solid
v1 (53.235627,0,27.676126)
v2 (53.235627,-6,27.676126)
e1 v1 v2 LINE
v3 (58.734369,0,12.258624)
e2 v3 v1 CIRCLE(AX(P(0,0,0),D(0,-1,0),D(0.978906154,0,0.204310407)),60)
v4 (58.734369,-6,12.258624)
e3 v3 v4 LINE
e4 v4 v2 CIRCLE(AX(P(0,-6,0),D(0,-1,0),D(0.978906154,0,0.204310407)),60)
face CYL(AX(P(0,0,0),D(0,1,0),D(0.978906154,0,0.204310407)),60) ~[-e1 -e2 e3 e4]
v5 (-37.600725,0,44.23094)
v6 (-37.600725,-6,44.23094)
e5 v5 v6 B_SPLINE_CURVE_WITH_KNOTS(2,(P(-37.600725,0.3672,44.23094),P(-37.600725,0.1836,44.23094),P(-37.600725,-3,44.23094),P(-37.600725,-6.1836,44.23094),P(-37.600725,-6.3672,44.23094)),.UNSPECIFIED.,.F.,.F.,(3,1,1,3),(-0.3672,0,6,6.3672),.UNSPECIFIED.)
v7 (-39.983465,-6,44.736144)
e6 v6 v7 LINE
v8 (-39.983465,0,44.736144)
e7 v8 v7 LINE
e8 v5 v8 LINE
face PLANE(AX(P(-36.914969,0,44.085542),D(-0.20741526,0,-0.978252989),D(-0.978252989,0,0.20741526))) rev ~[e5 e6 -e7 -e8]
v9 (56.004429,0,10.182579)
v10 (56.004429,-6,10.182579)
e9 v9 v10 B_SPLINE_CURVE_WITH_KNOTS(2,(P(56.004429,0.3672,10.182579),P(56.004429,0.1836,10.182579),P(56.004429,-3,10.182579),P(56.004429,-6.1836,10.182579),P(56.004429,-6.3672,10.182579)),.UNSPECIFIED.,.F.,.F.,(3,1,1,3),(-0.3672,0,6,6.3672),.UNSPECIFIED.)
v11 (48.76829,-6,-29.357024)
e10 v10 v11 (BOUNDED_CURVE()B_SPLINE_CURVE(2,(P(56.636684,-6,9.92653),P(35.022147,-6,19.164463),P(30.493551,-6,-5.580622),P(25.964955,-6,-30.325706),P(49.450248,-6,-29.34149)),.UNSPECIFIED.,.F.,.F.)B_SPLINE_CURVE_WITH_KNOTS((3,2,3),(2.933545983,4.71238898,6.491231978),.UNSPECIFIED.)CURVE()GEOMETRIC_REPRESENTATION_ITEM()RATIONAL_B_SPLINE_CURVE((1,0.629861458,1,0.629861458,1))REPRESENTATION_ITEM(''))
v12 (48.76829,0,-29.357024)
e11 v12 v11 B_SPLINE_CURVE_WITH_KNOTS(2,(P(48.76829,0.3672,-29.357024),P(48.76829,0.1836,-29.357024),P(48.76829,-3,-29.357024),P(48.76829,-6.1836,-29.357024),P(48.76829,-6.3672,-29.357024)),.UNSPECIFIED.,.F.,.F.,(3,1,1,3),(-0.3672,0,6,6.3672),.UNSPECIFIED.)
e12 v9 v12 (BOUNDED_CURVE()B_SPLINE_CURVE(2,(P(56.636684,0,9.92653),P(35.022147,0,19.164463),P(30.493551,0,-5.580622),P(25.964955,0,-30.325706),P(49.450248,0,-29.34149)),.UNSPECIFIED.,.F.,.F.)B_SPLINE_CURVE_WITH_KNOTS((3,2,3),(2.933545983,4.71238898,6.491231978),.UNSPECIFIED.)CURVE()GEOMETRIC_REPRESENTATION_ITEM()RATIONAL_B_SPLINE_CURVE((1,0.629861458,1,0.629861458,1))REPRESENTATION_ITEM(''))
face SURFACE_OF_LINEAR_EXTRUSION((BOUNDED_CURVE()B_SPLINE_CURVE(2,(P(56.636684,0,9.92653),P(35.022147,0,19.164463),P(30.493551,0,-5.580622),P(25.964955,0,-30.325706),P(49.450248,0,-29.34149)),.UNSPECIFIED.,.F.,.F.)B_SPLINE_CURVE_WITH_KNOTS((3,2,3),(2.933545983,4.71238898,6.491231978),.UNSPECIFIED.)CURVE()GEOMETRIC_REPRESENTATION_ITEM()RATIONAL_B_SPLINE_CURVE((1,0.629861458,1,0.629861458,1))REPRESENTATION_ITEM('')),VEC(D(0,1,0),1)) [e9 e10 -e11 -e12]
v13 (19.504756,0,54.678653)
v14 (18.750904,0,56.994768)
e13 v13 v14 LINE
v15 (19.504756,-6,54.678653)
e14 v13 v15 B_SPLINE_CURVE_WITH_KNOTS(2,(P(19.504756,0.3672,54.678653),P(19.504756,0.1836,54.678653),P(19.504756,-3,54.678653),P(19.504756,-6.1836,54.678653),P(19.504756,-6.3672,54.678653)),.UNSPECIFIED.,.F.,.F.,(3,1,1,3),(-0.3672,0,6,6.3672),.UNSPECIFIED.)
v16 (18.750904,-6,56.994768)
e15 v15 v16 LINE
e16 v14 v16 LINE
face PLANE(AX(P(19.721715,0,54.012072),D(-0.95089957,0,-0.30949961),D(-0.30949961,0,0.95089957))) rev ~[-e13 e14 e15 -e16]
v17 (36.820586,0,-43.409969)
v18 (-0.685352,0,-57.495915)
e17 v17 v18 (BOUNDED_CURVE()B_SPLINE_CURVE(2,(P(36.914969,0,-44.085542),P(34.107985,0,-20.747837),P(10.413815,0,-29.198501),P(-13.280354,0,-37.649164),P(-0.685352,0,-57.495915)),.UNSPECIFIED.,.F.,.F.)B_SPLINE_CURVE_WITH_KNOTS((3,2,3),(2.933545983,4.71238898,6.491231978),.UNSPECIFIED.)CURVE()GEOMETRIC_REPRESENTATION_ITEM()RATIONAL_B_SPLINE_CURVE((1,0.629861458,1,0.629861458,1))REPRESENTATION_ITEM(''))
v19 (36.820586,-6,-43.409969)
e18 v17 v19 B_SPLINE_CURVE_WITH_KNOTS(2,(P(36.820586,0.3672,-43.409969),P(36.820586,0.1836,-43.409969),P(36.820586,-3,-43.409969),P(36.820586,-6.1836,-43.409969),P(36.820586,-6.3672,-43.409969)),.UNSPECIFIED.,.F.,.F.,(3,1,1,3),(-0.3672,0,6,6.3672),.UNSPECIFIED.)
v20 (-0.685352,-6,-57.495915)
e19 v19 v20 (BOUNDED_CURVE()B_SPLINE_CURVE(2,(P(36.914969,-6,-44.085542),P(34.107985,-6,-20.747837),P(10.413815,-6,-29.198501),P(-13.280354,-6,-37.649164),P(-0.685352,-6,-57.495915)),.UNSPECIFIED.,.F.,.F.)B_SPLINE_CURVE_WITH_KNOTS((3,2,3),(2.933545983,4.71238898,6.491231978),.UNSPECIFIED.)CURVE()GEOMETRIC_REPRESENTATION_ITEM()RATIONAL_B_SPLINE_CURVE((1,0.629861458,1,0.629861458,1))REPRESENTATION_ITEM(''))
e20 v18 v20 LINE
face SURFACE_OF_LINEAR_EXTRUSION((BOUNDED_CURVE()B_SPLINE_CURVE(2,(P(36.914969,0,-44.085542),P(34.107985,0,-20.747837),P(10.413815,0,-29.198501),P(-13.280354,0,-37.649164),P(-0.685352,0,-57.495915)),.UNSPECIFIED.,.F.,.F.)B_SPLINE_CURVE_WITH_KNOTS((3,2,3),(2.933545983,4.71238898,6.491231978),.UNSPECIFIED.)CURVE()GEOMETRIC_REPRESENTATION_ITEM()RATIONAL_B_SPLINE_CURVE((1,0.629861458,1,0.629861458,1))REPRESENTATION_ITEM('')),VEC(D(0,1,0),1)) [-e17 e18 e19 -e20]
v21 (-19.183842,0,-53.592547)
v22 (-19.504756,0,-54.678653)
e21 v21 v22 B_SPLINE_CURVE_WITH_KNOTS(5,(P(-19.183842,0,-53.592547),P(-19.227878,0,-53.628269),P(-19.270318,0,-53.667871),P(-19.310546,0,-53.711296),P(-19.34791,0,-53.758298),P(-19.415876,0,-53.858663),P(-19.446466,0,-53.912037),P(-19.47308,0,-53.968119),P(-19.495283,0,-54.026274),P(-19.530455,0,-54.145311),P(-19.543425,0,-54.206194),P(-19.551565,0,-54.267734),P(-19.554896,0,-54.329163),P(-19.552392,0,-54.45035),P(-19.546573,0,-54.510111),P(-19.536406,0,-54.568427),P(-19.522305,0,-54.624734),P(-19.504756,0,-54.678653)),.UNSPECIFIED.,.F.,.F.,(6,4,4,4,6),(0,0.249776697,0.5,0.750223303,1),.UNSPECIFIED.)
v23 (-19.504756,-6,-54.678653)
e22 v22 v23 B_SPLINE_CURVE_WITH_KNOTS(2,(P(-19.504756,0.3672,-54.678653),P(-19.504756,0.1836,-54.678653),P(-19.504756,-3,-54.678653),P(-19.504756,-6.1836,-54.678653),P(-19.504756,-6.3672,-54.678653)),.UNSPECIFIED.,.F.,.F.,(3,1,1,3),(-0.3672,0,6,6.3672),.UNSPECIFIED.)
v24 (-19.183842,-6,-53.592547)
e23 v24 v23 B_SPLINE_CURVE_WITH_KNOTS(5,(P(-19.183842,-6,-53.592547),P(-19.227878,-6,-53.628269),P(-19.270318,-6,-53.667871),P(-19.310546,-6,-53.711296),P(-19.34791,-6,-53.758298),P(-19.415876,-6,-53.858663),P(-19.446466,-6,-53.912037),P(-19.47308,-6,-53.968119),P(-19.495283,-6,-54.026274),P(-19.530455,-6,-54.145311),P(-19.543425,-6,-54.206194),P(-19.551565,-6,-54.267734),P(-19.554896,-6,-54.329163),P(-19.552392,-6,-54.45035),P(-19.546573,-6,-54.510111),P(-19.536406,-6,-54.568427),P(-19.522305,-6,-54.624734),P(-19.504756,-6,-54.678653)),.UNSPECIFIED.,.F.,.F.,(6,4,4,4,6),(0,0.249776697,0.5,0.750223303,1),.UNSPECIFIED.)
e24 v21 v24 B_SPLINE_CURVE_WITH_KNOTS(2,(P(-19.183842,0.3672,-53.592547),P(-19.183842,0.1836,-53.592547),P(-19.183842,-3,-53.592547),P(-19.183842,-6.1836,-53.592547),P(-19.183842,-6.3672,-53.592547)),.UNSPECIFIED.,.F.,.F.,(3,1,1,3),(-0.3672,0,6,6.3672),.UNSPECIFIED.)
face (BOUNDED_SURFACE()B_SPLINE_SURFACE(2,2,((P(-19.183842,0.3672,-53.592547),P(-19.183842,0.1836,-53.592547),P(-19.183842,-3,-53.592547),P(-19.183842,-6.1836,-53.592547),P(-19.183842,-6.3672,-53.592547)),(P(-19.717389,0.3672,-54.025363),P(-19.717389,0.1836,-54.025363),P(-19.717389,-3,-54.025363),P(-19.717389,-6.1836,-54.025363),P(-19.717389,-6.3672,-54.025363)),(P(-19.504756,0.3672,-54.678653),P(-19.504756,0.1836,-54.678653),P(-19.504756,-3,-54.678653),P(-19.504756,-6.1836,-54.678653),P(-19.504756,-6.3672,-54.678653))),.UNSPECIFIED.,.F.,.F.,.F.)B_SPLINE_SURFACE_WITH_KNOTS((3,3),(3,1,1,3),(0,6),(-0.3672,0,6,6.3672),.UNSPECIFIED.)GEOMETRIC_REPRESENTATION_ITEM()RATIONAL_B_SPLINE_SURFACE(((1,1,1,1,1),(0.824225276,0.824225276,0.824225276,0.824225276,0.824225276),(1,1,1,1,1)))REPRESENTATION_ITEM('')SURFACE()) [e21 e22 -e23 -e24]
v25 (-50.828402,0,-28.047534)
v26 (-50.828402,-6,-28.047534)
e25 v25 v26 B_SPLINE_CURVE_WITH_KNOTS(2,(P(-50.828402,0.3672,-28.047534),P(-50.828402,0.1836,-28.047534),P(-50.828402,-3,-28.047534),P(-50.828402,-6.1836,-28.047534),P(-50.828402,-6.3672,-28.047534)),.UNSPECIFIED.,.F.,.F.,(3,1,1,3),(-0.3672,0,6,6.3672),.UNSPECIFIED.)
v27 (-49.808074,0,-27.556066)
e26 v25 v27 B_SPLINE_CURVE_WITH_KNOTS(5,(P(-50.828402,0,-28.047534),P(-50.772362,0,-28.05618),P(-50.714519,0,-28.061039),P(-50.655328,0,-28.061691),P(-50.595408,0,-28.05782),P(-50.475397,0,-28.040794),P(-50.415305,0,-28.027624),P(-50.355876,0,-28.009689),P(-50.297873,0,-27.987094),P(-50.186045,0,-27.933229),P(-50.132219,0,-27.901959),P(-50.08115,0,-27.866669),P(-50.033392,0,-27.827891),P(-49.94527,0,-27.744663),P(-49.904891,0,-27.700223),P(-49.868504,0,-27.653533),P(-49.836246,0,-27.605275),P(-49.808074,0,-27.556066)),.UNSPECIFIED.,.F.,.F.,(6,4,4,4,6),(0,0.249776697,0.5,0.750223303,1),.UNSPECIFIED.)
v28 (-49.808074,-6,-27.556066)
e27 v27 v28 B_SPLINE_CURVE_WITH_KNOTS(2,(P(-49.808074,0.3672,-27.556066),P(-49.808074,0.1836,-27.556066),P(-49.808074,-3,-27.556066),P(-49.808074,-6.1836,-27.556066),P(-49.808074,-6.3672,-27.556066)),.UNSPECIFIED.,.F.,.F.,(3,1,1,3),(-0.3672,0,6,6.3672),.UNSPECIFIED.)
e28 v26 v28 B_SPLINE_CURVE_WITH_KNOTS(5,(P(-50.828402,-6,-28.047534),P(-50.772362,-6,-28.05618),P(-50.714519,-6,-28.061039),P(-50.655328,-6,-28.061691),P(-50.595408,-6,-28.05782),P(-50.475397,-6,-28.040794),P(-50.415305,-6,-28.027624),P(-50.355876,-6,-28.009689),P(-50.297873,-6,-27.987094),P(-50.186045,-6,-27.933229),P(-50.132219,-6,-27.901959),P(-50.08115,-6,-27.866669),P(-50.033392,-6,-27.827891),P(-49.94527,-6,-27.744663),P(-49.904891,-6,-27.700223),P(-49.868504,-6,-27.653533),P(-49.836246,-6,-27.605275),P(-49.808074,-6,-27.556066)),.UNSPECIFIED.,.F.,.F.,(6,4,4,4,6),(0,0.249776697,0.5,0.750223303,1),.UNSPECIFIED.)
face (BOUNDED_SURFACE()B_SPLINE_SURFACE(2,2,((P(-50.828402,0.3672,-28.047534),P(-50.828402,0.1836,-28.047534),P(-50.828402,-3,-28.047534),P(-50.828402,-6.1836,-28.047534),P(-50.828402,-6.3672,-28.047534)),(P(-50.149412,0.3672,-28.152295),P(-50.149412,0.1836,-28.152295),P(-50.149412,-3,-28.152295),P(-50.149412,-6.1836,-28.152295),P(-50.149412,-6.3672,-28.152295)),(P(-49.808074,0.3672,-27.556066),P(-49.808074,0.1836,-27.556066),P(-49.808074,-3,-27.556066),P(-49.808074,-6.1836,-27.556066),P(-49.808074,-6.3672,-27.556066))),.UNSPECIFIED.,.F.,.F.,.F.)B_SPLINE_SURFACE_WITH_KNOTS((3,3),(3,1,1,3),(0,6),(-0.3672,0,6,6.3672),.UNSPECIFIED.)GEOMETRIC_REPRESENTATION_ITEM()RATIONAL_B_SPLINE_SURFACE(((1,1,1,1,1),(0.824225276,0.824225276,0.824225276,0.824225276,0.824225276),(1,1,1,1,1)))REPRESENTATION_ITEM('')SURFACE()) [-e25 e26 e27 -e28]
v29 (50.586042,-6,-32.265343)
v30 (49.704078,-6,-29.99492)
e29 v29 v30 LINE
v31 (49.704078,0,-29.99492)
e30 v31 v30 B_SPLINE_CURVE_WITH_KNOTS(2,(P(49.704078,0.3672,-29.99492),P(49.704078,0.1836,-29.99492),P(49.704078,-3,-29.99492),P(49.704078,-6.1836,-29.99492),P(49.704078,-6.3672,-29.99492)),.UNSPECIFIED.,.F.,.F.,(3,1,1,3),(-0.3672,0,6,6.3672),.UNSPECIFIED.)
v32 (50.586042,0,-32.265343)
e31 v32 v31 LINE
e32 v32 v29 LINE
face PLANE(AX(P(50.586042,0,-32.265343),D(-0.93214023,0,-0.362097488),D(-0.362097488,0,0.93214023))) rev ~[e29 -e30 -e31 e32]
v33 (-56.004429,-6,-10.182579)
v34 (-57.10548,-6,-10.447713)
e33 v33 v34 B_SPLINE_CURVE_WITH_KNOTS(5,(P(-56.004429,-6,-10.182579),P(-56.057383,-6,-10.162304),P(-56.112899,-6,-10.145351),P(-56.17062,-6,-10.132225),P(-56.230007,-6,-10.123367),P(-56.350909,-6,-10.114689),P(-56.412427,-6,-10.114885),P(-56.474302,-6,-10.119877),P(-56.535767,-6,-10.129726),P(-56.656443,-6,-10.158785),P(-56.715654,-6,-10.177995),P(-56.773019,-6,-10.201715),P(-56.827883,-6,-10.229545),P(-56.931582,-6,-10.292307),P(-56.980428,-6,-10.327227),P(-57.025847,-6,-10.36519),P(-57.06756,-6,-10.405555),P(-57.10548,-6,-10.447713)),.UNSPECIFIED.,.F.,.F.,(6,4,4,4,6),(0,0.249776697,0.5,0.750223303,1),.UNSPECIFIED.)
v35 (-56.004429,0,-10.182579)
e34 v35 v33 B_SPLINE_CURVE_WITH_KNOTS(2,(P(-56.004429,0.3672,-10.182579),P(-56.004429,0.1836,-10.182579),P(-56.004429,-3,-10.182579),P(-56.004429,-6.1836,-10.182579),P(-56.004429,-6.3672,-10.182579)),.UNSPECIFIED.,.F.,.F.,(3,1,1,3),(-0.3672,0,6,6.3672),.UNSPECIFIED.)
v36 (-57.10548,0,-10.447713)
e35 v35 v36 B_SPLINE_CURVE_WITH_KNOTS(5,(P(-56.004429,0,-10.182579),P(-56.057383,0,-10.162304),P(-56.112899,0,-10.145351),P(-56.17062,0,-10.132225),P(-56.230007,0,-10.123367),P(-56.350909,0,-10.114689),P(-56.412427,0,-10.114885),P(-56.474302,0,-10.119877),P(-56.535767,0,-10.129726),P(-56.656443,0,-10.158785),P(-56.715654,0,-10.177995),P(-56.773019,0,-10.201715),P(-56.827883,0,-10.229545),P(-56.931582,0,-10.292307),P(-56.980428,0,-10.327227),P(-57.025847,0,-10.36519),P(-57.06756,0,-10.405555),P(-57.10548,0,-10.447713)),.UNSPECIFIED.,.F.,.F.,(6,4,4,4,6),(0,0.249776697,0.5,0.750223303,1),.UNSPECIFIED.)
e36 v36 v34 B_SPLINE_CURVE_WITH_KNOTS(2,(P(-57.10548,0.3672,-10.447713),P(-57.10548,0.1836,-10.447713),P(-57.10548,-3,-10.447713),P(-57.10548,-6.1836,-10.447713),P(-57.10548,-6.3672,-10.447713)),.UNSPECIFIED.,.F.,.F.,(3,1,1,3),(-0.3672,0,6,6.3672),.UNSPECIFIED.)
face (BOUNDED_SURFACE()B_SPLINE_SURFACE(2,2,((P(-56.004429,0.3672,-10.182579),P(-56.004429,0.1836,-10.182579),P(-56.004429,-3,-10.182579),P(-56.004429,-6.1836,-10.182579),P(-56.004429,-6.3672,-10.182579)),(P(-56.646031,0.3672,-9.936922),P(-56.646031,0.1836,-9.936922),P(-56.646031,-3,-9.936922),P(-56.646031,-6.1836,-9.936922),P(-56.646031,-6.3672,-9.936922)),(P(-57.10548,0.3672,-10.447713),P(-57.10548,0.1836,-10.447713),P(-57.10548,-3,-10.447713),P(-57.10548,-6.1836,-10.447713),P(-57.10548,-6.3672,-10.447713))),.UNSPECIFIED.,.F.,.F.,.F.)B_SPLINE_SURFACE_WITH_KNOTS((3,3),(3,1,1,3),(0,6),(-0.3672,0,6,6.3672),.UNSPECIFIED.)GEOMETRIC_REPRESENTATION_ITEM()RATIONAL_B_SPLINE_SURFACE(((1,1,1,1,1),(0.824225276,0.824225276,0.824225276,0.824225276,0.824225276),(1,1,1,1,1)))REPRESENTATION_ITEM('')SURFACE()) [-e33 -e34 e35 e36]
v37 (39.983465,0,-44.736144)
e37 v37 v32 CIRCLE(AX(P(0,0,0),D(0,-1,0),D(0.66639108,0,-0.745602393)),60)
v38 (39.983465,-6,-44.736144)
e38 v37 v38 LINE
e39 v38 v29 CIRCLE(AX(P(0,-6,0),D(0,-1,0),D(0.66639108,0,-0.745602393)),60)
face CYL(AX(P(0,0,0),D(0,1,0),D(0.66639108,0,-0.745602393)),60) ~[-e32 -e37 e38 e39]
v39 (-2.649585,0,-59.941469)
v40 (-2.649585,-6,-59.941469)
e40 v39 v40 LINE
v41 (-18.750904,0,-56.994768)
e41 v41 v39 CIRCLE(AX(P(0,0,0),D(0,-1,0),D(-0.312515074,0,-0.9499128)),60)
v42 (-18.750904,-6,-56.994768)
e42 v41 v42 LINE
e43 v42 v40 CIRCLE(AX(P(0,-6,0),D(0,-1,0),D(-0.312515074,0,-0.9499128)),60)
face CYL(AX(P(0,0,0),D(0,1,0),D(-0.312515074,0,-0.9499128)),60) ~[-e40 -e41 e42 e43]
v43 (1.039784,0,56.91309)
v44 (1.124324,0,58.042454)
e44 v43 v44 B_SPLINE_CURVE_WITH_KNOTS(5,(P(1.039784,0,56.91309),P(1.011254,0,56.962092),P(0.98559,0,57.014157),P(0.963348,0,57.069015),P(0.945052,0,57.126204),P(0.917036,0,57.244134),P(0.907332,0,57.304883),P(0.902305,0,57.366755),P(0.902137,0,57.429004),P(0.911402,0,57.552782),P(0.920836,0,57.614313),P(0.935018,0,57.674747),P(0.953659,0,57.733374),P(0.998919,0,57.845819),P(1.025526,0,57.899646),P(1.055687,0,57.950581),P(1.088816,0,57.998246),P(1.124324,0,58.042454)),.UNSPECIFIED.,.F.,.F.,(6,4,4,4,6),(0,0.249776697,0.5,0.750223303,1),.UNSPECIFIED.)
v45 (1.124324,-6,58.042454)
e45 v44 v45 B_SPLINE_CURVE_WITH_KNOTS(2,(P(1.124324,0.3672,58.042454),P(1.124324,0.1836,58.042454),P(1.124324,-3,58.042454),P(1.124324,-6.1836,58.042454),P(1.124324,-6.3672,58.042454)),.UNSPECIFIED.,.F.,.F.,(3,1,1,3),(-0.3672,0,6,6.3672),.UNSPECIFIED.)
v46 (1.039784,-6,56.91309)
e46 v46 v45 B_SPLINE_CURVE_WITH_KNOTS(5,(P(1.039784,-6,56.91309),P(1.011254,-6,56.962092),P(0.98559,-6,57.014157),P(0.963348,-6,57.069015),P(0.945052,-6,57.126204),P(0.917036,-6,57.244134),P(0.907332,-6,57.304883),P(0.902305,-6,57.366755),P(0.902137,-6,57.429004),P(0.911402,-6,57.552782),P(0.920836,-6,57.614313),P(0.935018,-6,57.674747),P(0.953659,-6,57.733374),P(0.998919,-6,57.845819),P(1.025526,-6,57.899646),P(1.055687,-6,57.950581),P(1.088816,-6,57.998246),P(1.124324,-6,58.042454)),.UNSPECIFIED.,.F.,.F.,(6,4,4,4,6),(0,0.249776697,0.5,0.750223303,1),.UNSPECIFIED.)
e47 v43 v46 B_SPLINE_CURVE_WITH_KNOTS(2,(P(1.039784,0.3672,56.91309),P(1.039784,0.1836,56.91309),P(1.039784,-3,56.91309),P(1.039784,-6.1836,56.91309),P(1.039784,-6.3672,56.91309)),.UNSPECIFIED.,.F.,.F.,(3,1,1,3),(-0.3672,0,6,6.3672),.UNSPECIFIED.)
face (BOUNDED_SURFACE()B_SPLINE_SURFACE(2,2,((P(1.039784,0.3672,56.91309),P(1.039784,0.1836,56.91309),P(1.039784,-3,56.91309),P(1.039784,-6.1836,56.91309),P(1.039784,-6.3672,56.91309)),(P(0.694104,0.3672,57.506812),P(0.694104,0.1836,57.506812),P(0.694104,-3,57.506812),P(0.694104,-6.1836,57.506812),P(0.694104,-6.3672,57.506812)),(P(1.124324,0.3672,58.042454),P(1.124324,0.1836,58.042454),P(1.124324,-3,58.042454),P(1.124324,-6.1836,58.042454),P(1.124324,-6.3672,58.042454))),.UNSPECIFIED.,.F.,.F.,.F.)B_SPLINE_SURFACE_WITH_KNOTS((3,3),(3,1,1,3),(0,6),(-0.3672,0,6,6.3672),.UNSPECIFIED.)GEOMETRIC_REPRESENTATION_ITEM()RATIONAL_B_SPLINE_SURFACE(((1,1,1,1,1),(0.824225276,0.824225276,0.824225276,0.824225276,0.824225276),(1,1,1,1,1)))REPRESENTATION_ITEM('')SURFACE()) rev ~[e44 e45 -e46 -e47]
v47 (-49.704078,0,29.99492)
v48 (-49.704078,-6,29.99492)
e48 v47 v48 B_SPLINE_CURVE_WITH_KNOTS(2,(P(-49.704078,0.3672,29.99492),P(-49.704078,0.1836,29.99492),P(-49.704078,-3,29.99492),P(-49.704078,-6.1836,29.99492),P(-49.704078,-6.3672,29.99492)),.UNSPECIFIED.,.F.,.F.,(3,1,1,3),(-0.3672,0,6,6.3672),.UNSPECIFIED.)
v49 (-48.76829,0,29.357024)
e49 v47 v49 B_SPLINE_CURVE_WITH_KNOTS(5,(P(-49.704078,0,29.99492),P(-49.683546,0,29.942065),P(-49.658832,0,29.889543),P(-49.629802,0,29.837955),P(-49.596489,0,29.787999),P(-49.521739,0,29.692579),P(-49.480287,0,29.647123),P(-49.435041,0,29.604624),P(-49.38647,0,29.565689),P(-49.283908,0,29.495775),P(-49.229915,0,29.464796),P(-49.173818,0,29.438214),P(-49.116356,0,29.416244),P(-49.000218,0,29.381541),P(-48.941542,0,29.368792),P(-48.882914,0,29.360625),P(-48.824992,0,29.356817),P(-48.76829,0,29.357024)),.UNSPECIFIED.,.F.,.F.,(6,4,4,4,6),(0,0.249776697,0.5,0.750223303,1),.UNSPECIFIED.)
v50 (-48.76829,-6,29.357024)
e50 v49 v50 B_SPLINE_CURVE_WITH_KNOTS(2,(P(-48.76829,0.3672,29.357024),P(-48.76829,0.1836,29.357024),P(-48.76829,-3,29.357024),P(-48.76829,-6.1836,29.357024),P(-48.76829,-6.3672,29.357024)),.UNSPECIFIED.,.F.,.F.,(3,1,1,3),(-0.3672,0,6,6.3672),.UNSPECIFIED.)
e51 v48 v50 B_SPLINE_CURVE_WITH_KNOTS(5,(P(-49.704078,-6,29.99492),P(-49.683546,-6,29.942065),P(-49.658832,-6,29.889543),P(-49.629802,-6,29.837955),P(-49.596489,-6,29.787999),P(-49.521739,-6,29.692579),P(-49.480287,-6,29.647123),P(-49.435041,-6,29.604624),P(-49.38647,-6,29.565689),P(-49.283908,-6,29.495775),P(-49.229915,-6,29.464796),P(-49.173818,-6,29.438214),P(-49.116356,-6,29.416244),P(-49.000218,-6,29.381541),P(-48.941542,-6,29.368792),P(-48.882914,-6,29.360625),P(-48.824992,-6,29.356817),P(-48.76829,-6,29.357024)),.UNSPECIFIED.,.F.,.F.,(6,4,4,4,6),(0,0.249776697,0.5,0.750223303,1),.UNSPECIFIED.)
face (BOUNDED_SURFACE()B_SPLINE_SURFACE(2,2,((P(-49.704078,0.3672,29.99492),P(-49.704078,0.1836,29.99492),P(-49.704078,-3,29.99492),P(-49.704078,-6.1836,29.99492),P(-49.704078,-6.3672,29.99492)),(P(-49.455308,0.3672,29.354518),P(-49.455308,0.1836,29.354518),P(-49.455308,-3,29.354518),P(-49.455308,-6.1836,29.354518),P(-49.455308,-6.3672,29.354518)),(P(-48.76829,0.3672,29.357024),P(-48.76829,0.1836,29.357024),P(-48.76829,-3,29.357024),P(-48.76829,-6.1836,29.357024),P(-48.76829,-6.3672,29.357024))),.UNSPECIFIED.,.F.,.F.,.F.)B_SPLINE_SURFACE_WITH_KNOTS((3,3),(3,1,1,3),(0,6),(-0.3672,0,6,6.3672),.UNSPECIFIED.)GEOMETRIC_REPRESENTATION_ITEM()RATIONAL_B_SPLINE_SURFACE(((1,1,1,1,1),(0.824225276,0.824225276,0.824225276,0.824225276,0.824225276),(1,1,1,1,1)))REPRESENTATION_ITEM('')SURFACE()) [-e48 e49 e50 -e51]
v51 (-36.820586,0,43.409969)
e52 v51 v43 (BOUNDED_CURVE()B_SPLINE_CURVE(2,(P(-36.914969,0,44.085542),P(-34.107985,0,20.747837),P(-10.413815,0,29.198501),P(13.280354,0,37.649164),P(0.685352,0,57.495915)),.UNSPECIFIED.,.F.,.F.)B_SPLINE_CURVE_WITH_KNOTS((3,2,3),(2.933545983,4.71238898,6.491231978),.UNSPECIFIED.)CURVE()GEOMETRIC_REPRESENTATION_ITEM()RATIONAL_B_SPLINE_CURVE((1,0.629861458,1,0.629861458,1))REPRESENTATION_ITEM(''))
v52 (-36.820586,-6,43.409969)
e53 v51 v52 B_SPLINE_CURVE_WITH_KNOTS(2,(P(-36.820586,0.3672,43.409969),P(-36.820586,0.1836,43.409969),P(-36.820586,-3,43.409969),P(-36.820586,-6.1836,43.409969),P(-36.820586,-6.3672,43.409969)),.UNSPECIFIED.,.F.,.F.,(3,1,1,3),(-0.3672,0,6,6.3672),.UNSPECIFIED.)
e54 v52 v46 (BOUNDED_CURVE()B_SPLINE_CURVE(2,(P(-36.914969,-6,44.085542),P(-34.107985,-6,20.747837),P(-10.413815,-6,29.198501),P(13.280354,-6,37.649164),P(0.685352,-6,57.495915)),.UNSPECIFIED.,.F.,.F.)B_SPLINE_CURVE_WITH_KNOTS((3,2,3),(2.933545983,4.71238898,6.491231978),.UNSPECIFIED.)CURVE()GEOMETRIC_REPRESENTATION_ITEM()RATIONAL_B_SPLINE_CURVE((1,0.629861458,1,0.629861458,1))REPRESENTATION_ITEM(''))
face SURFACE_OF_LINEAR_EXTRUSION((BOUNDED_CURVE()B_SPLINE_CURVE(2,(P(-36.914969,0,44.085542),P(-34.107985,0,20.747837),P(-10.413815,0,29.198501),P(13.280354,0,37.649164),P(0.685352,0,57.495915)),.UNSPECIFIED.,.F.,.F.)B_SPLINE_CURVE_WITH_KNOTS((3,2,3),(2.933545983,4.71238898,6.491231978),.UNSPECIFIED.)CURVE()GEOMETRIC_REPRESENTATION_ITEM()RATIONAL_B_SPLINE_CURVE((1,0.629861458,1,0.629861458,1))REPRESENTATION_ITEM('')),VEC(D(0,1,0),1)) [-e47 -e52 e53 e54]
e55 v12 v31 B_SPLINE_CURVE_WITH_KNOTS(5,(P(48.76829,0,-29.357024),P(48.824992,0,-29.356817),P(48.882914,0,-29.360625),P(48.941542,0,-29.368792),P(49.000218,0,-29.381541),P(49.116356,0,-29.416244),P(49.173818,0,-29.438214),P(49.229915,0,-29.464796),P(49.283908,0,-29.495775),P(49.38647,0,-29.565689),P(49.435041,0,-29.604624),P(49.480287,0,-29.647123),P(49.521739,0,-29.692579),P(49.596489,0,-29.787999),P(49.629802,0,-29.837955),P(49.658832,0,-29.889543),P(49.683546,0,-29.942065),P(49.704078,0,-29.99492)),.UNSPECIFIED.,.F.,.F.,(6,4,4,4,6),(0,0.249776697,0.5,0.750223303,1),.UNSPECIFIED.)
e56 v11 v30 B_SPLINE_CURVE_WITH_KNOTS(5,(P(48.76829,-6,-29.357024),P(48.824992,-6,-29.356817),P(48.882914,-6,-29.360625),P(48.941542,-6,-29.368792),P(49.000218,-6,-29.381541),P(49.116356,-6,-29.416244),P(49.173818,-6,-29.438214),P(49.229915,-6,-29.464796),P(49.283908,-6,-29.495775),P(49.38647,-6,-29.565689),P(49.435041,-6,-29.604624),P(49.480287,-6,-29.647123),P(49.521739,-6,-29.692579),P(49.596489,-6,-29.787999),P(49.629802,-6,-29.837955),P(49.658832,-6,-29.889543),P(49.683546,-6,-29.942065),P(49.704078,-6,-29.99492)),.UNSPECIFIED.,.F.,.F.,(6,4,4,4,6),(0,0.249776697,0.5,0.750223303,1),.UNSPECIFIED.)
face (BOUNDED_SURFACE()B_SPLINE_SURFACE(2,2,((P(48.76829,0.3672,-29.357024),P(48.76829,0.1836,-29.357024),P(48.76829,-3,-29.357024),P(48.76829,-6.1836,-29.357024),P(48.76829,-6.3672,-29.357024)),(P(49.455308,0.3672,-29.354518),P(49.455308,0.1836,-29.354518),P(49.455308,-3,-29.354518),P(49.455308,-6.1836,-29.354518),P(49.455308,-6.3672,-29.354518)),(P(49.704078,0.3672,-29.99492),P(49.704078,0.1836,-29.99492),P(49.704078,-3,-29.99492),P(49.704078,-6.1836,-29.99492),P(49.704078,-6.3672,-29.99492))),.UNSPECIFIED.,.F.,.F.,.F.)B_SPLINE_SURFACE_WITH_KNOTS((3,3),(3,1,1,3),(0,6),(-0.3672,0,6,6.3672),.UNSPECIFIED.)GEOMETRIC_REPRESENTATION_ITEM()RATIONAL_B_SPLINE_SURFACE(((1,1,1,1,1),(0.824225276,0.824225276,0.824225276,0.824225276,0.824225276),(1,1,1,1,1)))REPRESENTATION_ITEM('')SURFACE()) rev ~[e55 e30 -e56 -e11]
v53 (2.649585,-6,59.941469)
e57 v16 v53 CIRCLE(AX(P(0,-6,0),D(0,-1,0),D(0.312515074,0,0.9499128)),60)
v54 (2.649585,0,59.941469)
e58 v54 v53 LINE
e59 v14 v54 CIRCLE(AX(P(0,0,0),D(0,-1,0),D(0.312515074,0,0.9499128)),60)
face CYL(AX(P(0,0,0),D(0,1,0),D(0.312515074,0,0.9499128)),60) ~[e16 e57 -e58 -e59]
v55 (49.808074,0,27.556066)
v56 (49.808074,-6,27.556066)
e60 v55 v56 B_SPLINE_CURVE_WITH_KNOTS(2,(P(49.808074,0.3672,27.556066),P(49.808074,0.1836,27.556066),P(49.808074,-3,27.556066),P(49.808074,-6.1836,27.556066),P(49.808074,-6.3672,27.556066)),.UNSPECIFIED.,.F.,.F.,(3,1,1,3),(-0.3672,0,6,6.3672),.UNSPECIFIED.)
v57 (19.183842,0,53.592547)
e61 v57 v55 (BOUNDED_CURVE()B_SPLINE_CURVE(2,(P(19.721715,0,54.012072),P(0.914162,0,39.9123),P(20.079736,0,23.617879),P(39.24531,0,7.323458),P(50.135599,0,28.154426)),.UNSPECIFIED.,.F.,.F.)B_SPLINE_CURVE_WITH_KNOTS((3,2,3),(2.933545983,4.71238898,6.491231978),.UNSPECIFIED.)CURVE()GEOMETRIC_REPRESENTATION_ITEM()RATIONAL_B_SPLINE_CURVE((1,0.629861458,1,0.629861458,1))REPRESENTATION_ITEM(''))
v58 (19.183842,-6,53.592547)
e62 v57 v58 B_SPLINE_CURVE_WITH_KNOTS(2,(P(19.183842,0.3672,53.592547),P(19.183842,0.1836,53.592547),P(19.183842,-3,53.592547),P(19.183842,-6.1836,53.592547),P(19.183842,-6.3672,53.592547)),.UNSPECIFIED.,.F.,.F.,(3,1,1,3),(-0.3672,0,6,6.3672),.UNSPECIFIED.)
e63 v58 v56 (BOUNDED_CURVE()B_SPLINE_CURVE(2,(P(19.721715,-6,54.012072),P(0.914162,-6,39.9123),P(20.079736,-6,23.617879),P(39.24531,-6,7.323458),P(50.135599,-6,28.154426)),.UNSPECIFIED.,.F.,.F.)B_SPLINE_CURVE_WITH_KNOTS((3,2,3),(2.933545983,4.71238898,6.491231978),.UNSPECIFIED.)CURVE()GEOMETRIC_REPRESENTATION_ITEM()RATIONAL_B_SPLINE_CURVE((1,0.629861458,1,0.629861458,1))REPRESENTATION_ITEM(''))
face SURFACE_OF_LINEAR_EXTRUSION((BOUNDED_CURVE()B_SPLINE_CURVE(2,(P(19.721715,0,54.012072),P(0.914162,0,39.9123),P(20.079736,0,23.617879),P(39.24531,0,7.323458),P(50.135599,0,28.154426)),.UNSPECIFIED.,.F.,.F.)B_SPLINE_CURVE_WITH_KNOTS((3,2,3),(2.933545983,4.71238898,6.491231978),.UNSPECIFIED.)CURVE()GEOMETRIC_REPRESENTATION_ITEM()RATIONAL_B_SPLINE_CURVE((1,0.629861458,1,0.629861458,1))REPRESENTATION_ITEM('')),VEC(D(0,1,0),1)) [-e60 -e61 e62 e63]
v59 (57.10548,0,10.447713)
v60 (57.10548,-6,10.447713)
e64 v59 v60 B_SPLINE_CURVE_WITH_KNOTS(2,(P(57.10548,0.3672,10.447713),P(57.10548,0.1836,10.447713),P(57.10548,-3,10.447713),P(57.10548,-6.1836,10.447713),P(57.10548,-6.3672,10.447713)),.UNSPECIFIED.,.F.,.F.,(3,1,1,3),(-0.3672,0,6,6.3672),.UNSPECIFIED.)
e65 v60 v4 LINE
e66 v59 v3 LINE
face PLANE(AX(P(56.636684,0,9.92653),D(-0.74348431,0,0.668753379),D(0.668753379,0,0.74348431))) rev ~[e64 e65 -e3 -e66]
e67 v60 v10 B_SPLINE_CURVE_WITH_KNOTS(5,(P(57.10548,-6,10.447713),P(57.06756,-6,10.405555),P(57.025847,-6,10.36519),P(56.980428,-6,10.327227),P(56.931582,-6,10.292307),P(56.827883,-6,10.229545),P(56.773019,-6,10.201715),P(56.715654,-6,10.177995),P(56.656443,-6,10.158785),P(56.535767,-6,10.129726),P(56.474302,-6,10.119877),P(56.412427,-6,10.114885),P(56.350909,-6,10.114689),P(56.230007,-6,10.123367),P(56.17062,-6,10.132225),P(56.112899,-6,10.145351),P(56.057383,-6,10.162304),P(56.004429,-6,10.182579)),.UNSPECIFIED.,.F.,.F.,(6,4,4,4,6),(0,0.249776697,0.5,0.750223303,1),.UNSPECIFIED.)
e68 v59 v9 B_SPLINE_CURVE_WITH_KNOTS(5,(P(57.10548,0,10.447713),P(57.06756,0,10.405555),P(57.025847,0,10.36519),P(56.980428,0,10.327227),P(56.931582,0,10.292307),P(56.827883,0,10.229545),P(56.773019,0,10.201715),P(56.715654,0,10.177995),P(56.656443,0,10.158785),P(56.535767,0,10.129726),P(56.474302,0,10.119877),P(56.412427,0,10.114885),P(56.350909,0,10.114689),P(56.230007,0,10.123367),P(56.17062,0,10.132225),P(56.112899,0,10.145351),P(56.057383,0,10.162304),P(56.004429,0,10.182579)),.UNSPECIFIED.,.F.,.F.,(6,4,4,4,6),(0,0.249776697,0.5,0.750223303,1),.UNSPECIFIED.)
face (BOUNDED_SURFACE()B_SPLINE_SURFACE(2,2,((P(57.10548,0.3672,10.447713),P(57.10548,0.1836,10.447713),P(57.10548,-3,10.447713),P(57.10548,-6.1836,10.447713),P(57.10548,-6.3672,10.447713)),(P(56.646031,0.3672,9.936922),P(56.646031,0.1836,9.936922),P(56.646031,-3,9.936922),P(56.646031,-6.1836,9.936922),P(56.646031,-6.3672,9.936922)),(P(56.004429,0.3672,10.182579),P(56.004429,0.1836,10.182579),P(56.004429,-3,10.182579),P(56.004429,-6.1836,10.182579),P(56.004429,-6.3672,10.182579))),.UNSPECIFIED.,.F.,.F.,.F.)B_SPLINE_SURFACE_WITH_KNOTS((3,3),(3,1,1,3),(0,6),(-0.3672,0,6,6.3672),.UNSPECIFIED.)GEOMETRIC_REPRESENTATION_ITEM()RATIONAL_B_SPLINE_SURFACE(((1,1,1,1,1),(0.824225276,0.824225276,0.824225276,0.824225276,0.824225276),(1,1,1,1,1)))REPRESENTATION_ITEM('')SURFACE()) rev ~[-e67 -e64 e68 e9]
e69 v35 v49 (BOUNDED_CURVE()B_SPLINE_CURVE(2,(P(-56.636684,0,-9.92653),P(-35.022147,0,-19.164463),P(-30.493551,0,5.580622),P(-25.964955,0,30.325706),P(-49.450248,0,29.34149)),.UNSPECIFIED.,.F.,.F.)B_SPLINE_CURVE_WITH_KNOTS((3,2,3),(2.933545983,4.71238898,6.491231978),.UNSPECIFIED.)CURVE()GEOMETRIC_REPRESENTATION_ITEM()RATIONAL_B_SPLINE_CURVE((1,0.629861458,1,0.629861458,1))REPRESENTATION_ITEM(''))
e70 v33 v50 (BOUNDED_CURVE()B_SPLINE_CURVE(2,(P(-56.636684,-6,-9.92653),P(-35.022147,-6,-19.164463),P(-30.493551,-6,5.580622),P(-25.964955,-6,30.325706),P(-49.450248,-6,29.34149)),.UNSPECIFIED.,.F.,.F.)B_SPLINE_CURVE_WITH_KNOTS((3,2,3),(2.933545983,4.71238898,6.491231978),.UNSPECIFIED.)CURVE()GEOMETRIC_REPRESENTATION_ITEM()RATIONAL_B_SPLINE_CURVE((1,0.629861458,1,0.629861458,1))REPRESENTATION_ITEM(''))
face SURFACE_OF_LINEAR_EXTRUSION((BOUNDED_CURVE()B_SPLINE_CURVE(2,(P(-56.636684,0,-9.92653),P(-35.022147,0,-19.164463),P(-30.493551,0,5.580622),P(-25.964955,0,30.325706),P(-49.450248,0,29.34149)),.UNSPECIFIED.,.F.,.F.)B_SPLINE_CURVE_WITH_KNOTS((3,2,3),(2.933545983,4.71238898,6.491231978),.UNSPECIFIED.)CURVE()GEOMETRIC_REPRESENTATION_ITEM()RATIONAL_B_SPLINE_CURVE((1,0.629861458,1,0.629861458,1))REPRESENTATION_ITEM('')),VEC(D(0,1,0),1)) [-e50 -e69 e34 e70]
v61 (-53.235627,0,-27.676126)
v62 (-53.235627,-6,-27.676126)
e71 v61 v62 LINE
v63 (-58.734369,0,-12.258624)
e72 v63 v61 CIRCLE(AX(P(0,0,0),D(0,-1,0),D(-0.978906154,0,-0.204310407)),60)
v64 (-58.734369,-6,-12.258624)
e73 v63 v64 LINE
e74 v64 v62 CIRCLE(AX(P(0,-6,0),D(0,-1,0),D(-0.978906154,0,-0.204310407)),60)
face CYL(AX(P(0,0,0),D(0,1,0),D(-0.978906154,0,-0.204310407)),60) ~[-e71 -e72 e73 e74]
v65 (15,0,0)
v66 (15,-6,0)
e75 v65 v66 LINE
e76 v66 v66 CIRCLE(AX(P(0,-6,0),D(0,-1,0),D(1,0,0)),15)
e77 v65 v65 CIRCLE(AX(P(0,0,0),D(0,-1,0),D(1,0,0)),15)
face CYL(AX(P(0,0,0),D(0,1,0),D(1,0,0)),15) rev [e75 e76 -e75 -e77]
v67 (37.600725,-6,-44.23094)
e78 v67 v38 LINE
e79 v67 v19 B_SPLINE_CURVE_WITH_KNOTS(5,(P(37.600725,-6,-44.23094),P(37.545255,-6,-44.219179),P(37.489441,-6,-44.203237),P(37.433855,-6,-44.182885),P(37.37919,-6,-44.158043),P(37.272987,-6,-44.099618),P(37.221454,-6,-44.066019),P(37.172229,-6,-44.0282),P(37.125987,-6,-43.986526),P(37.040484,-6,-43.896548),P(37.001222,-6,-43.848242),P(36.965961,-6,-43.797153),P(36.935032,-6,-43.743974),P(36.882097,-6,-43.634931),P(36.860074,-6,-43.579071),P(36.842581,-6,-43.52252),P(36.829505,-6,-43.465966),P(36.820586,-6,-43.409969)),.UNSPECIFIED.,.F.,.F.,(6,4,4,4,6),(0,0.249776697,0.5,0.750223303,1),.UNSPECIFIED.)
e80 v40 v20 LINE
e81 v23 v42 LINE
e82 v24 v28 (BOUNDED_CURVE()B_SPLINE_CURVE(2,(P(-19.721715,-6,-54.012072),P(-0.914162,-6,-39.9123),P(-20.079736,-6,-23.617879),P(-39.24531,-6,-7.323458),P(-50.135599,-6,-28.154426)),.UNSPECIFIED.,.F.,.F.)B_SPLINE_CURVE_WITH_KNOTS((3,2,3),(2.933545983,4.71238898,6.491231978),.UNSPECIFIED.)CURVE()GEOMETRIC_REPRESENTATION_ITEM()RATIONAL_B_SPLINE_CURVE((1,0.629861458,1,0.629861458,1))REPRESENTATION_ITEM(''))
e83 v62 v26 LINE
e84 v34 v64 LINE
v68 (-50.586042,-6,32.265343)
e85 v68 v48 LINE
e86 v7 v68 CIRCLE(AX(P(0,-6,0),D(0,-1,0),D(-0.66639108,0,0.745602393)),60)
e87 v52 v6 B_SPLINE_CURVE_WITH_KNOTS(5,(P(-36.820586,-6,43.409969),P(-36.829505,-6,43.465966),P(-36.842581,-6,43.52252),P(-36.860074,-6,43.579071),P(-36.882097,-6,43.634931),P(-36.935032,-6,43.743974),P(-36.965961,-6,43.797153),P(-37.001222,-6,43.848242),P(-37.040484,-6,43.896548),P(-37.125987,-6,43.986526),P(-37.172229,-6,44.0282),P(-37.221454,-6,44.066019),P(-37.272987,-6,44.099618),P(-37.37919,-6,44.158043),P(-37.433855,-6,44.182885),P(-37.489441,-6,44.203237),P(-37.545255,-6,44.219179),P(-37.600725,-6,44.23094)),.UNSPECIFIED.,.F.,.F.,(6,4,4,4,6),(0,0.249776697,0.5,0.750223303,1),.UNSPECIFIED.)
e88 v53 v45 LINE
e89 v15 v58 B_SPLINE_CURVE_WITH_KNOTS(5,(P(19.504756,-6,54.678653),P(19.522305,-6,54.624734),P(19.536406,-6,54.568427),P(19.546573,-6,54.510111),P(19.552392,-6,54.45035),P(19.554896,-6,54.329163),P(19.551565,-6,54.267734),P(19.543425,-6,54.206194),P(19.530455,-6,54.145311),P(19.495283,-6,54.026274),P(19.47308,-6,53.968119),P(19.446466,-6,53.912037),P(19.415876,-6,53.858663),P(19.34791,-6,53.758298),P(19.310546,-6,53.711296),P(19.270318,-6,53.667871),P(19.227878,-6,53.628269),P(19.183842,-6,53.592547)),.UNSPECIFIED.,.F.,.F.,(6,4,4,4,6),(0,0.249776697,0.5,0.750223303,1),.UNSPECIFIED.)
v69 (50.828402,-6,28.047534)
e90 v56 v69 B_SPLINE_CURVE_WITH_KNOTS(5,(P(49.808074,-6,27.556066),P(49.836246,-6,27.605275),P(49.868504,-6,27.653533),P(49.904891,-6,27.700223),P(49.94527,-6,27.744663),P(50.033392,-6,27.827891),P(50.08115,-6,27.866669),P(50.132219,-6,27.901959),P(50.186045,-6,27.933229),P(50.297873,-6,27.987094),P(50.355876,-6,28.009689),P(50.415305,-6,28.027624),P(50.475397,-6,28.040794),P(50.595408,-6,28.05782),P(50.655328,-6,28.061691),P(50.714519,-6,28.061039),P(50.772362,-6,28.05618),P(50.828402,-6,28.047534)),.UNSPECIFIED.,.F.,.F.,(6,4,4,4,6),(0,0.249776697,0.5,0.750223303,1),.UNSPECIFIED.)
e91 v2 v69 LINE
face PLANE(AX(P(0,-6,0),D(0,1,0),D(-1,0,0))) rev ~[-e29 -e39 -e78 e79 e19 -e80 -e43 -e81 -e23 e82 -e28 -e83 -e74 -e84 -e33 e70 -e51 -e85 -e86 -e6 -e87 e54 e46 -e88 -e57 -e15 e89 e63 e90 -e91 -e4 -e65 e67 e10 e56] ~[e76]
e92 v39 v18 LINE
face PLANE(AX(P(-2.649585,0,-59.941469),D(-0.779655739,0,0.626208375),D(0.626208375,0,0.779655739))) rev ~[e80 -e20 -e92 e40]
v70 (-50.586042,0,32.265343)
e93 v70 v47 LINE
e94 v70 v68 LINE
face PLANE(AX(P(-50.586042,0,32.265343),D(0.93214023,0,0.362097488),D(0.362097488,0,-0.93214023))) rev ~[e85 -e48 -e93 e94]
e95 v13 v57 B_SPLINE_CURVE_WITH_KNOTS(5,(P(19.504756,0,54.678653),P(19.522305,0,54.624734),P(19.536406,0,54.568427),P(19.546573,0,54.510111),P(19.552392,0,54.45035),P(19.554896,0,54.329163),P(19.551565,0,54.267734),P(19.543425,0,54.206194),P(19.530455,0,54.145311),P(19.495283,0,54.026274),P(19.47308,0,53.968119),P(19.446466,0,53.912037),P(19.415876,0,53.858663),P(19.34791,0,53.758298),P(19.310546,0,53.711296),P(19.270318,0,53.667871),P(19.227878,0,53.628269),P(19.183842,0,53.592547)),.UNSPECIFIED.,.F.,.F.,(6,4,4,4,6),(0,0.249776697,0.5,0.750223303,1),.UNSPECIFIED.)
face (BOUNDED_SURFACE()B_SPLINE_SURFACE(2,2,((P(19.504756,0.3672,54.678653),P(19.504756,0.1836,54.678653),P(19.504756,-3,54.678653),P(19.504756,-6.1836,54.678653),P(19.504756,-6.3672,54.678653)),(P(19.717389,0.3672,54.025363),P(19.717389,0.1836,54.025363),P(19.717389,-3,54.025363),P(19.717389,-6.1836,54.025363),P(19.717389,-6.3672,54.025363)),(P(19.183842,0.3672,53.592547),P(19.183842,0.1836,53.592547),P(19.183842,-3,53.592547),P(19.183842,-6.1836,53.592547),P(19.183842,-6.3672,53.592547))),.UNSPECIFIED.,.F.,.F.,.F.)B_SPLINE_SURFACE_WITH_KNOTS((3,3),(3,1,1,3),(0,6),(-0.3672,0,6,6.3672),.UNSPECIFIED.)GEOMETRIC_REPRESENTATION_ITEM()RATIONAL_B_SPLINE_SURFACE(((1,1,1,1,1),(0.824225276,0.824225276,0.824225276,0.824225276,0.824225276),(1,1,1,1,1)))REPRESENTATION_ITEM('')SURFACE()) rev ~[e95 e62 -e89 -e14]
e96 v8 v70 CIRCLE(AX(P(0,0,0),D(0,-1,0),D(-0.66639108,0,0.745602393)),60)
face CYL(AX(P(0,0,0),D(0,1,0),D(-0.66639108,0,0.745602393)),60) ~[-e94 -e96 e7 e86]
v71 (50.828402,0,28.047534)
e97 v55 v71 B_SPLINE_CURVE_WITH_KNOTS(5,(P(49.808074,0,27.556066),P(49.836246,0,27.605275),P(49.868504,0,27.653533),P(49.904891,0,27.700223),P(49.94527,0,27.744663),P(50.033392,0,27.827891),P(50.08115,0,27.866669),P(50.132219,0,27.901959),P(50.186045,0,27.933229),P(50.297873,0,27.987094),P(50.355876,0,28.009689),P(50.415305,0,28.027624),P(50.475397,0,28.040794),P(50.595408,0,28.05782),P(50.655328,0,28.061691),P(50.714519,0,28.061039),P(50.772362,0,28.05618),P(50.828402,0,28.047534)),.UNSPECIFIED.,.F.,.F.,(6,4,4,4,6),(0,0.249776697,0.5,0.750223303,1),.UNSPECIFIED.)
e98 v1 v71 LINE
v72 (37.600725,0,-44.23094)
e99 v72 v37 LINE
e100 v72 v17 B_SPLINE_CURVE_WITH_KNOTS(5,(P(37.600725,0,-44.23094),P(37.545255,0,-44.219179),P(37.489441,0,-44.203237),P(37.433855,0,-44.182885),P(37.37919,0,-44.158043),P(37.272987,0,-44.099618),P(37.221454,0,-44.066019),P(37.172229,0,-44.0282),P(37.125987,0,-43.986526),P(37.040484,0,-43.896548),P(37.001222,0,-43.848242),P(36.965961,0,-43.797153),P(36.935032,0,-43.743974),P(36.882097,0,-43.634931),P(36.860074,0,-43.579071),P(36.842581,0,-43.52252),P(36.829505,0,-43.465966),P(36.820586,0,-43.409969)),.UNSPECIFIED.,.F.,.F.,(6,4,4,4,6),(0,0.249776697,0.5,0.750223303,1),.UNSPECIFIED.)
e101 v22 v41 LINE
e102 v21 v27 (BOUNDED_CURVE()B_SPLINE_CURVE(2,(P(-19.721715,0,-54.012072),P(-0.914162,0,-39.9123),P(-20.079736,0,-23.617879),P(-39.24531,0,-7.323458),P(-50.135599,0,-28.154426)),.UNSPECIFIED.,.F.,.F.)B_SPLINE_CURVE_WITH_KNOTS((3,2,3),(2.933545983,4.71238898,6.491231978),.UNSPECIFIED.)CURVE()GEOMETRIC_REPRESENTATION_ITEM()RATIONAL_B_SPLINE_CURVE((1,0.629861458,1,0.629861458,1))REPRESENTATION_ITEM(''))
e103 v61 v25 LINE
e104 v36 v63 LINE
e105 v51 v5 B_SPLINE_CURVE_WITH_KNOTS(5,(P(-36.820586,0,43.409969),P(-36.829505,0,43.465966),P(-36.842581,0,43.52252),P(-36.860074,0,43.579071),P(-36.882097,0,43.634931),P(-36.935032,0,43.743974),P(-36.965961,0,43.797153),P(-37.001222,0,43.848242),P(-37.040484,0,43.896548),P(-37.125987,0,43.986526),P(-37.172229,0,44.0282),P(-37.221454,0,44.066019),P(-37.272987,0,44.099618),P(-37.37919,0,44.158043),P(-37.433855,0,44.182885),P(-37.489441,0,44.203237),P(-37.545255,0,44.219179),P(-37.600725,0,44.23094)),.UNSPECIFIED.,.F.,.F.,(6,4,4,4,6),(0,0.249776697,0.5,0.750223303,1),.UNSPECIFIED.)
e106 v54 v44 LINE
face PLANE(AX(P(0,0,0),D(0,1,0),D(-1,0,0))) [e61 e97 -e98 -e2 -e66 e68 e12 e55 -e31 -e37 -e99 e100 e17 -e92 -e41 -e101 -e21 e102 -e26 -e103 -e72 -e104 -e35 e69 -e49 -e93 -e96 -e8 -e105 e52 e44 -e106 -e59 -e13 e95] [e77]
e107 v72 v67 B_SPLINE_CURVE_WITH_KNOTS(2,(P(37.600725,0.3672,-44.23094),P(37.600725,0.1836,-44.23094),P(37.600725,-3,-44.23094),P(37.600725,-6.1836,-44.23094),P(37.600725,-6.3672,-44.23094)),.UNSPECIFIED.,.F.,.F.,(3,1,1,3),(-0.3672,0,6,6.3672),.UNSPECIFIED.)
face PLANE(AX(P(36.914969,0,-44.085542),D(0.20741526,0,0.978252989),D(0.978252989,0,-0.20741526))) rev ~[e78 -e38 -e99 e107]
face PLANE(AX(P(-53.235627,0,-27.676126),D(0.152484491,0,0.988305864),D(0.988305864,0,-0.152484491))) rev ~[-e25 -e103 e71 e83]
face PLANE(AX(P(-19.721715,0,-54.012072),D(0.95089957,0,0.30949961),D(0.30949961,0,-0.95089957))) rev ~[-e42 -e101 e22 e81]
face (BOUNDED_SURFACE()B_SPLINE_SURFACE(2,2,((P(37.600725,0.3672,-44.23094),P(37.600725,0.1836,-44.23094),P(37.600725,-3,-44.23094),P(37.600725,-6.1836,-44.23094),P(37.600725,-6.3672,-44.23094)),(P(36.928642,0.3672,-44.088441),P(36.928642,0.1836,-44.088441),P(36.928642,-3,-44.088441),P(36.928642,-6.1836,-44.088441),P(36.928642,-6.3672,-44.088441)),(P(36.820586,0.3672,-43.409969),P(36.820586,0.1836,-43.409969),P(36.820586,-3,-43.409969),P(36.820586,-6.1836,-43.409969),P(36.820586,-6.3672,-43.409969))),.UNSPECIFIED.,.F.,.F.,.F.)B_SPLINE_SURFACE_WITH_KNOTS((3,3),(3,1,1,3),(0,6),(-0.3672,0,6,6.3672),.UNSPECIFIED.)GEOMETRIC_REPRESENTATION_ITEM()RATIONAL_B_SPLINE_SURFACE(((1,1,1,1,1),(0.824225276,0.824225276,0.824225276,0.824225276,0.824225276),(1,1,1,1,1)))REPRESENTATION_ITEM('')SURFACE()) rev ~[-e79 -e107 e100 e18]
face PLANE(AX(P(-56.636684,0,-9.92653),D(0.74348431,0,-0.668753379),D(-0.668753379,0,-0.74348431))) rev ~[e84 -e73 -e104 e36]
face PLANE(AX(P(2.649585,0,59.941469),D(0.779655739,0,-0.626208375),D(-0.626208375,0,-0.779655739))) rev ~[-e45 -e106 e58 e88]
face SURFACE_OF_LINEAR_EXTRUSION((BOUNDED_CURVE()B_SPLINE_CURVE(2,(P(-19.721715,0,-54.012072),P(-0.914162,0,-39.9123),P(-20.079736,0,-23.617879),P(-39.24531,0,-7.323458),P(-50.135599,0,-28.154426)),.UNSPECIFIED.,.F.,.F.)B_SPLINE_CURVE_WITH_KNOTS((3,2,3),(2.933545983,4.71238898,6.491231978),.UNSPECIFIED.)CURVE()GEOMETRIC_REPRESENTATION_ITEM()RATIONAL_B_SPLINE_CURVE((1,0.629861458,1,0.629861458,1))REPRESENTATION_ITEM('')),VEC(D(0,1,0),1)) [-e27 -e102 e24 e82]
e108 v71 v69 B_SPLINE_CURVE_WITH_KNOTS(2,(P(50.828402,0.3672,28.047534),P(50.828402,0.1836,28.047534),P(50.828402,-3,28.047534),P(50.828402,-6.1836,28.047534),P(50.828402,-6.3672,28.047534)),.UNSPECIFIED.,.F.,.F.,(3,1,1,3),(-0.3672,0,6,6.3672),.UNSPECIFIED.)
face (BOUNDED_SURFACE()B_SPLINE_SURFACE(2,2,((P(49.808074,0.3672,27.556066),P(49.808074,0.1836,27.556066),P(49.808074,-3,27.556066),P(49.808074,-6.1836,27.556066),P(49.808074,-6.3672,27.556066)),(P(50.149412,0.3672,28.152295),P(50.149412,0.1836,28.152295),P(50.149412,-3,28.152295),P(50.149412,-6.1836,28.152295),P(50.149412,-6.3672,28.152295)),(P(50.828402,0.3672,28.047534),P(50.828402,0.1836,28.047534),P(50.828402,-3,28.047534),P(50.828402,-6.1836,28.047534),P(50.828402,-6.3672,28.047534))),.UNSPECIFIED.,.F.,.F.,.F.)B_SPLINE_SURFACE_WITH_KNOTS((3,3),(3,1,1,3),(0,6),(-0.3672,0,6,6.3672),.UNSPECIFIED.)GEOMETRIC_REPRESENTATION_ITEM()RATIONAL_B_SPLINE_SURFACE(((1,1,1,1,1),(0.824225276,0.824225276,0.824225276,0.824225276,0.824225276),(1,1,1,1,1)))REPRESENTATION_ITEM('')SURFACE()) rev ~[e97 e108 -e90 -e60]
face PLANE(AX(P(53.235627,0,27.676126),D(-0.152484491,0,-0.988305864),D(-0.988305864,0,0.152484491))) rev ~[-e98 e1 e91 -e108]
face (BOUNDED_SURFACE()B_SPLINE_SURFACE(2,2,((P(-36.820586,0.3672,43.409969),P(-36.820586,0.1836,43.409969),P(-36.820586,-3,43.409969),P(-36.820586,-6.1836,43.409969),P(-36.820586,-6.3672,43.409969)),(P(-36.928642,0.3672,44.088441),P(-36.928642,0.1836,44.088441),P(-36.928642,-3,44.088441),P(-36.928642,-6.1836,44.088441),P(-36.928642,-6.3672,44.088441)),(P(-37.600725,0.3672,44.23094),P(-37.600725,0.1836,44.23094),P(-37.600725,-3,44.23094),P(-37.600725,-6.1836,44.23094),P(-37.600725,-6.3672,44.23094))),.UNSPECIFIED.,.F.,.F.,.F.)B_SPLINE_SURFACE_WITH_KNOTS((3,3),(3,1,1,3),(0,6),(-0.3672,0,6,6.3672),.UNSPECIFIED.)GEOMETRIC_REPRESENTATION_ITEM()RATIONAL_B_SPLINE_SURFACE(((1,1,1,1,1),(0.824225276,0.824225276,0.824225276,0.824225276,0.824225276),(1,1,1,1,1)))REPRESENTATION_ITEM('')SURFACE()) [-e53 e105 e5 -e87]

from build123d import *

# Parameters (mm, degrees)
F0_R     = 15
F1_DEPTH = 6
F2_R     = 1


with BuildPart() as f1:
    # F0 (on Front) → F1 (new body)
    with BuildSketch(Plane.XZ):
        with BuildLine():
            add(Edge.make_bspline(
                [(-36.9149694259, 44.0855422138), (-34.1079848174, 20.7478374412), (-10.4138151894, 29.1985008725), (13.2803544387, 37.6491643038), (0.6853516325, 57.4959154474)],
                knots=[2.933545983, 2.933545983, 2.933545983, 4.7123889804, 4.7123889804, 6.4912319777, 6.4912319777, 6.4912319777], degree=2, weights=[1, 0.6298614583, 1, 0.6298614583, 1]))
            Line((-36.9149694259, 44.0855422138), (-39.9834647697, 44.7361436091))
            ThreePointArc((-39.9834647697, 44.7361436091), (-45.7120237559, 38.8640049935), (-50.5860421703, 32.2653426689))
            Line((-50.5860421703, 32.2653426689), (-49.4502475751, 29.341489648))
            add(Edge.make_bspline(
                [(-56.6366842097, -9.9265301959), (-35.0221467064, -19.1644626032), (-30.4935511027, 5.5806219319), (-25.964955499, 30.3257064671), (-49.4502475751, 29.341489648)],
                knots=[2.933545983, 2.933545983, 2.933545983, 4.7123889804, 4.7123889804, 6.4912319777, 6.4912319777, 6.4912319777], degree=2, weights=[1, 0.6298614583, 1, 0.6298614583, 1]))
            Line((-56.6366842097, -9.9265301959), (-58.7343692177, -12.2586244173))
            ThreePointArc((-58.7343692177, -12.2586244173), (-56.5132274952, -20.1557713343), (-53.2356274982, -27.676126262))
            Line((-53.2356274982, -27.676126262), (-50.1355992076, -28.1544257994))
            add(Edge.make_bspline(
                [(-19.7217147838, -54.0120724097), (-0.914161889, -39.9123000444), (-20.0797359133, -23.6178789406), (-39.2453099377, -7.3234578367), (-50.1355992076, -28.1544257994)],
                knots=[2.933545983, 2.933545983, 2.933545983, 4.7123889804, 4.7123889804, 6.4912319777, 6.4912319777, 6.4912319777], degree=2, weights=[1, 0.6298614583, 1, 0.6298614583, 1]))
            Line((-19.7217147838, -54.0120724097), (-18.750904448, -56.9947680264))
            ThreePointArc((-18.750904448, -56.9947680264), (-10.8012037393, -59.0197763278), (-2.6495853279, -59.9414689309))
            Line((-2.6495853279, -59.9414689309), (-0.6853516325, -57.4959154474))
            add(Edge.make_bspline(
                [(36.9149694259, -44.0855422138), (34.1079848174, -20.7478374412), (10.4138151894, -29.1985008725), (-13.2803544387, -37.6491643038), (-0.6853516325, -57.4959154474)],
                knots=[2.933545983, 2.933545983, 2.933545983, 4.7123889804, 4.7123889804, 6.4912319777, 6.4912319777, 6.4912319777], degree=2, weights=[1, 0.6298614583, 1, 0.6298614583, 1]))
            Line((36.9149694259, -44.0855422138), (39.9834647697, -44.7361436091))
            ThreePointArc((39.9834647697, -44.7361436091), (45.7120237559, -38.8640049935), (50.5860421703, -32.2653426689))
            Line((50.5860421703, -32.2653426689), (49.4502475751, -29.341489648))
            add(Edge.make_bspline(
                [(56.6366842097, 9.9265301959), (35.0221467064, 19.1644626032), (30.4935511027, -5.5806219319), (25.964955499, -30.3257064671), (49.4502475751, -29.341489648)],
                knots=[2.933545983, 2.933545983, 2.933545983, 4.7123889804, 4.7123889804, 6.4912319777, 6.4912319777, 6.4912319777], degree=2, weights=[1, 0.6298614583, 1, 0.6298614583, 1]))
            Line((56.6366842097, 9.9265301959), (58.7343692177, 12.2586244173))
            ThreePointArc((58.7343692177, 12.2586244173), (56.5132274952, 20.1557713343), (53.2356274982, 27.676126262))
            Line((53.2356274982, 27.676126262), (50.1355992076, 28.1544257994))
            add(Edge.make_bspline(
                [(19.7217147838, 54.0120724097), (0.914161889, 39.9123000444), (20.0797359133, 23.6178789406), (39.2453099377, 7.3234578367), (50.1355992076, 28.1544257994)],
                knots=[2.933545983, 2.933545983, 2.933545983, 4.7123889804, 4.7123889804, 6.4912319777, 6.4912319777, 6.4912319777], degree=2, weights=[1, 0.6298614583, 1, 0.6298614583, 1]))
            Line((19.7217147838, 54.0120724097), (18.750904448, 56.9947680264))
            ThreePointArc((18.750904448, 56.9947680264), (10.8012037393, 59.0197763278), (2.6495853279, 59.9414689309))
            Line((2.6495853279, 59.9414689309), (0.6853516325, 57.4959154474))
        make_face()
        Circle(F0_R, mode=Mode.SUBTRACT)
    extrude(amount=F1_DEPTH)

    # F2
    f2_edges = [f1.edges().sort_by_distance(p)[0] for p in [
        (-36.914969, -3, 44.085542),
        (19.721715, -3, 54.012072),
        (56.636684, -3, 9.92653),
        (36.914969, -3, -44.085542),
        (-19.721715, -3, -54.012072),
        (-56.636684, -3, -9.92653),
        (-49.450248, -3, 29.34149),
        (-50.135599, -3, -28.154426),
        (49.450248, -3, -29.34149),
        (50.135599, -3, 28.154426),
        (0.685352, -3, 57.495915),
    ]]
    fillet(f2_edges, radius=F2_R)


solid = f1.part
